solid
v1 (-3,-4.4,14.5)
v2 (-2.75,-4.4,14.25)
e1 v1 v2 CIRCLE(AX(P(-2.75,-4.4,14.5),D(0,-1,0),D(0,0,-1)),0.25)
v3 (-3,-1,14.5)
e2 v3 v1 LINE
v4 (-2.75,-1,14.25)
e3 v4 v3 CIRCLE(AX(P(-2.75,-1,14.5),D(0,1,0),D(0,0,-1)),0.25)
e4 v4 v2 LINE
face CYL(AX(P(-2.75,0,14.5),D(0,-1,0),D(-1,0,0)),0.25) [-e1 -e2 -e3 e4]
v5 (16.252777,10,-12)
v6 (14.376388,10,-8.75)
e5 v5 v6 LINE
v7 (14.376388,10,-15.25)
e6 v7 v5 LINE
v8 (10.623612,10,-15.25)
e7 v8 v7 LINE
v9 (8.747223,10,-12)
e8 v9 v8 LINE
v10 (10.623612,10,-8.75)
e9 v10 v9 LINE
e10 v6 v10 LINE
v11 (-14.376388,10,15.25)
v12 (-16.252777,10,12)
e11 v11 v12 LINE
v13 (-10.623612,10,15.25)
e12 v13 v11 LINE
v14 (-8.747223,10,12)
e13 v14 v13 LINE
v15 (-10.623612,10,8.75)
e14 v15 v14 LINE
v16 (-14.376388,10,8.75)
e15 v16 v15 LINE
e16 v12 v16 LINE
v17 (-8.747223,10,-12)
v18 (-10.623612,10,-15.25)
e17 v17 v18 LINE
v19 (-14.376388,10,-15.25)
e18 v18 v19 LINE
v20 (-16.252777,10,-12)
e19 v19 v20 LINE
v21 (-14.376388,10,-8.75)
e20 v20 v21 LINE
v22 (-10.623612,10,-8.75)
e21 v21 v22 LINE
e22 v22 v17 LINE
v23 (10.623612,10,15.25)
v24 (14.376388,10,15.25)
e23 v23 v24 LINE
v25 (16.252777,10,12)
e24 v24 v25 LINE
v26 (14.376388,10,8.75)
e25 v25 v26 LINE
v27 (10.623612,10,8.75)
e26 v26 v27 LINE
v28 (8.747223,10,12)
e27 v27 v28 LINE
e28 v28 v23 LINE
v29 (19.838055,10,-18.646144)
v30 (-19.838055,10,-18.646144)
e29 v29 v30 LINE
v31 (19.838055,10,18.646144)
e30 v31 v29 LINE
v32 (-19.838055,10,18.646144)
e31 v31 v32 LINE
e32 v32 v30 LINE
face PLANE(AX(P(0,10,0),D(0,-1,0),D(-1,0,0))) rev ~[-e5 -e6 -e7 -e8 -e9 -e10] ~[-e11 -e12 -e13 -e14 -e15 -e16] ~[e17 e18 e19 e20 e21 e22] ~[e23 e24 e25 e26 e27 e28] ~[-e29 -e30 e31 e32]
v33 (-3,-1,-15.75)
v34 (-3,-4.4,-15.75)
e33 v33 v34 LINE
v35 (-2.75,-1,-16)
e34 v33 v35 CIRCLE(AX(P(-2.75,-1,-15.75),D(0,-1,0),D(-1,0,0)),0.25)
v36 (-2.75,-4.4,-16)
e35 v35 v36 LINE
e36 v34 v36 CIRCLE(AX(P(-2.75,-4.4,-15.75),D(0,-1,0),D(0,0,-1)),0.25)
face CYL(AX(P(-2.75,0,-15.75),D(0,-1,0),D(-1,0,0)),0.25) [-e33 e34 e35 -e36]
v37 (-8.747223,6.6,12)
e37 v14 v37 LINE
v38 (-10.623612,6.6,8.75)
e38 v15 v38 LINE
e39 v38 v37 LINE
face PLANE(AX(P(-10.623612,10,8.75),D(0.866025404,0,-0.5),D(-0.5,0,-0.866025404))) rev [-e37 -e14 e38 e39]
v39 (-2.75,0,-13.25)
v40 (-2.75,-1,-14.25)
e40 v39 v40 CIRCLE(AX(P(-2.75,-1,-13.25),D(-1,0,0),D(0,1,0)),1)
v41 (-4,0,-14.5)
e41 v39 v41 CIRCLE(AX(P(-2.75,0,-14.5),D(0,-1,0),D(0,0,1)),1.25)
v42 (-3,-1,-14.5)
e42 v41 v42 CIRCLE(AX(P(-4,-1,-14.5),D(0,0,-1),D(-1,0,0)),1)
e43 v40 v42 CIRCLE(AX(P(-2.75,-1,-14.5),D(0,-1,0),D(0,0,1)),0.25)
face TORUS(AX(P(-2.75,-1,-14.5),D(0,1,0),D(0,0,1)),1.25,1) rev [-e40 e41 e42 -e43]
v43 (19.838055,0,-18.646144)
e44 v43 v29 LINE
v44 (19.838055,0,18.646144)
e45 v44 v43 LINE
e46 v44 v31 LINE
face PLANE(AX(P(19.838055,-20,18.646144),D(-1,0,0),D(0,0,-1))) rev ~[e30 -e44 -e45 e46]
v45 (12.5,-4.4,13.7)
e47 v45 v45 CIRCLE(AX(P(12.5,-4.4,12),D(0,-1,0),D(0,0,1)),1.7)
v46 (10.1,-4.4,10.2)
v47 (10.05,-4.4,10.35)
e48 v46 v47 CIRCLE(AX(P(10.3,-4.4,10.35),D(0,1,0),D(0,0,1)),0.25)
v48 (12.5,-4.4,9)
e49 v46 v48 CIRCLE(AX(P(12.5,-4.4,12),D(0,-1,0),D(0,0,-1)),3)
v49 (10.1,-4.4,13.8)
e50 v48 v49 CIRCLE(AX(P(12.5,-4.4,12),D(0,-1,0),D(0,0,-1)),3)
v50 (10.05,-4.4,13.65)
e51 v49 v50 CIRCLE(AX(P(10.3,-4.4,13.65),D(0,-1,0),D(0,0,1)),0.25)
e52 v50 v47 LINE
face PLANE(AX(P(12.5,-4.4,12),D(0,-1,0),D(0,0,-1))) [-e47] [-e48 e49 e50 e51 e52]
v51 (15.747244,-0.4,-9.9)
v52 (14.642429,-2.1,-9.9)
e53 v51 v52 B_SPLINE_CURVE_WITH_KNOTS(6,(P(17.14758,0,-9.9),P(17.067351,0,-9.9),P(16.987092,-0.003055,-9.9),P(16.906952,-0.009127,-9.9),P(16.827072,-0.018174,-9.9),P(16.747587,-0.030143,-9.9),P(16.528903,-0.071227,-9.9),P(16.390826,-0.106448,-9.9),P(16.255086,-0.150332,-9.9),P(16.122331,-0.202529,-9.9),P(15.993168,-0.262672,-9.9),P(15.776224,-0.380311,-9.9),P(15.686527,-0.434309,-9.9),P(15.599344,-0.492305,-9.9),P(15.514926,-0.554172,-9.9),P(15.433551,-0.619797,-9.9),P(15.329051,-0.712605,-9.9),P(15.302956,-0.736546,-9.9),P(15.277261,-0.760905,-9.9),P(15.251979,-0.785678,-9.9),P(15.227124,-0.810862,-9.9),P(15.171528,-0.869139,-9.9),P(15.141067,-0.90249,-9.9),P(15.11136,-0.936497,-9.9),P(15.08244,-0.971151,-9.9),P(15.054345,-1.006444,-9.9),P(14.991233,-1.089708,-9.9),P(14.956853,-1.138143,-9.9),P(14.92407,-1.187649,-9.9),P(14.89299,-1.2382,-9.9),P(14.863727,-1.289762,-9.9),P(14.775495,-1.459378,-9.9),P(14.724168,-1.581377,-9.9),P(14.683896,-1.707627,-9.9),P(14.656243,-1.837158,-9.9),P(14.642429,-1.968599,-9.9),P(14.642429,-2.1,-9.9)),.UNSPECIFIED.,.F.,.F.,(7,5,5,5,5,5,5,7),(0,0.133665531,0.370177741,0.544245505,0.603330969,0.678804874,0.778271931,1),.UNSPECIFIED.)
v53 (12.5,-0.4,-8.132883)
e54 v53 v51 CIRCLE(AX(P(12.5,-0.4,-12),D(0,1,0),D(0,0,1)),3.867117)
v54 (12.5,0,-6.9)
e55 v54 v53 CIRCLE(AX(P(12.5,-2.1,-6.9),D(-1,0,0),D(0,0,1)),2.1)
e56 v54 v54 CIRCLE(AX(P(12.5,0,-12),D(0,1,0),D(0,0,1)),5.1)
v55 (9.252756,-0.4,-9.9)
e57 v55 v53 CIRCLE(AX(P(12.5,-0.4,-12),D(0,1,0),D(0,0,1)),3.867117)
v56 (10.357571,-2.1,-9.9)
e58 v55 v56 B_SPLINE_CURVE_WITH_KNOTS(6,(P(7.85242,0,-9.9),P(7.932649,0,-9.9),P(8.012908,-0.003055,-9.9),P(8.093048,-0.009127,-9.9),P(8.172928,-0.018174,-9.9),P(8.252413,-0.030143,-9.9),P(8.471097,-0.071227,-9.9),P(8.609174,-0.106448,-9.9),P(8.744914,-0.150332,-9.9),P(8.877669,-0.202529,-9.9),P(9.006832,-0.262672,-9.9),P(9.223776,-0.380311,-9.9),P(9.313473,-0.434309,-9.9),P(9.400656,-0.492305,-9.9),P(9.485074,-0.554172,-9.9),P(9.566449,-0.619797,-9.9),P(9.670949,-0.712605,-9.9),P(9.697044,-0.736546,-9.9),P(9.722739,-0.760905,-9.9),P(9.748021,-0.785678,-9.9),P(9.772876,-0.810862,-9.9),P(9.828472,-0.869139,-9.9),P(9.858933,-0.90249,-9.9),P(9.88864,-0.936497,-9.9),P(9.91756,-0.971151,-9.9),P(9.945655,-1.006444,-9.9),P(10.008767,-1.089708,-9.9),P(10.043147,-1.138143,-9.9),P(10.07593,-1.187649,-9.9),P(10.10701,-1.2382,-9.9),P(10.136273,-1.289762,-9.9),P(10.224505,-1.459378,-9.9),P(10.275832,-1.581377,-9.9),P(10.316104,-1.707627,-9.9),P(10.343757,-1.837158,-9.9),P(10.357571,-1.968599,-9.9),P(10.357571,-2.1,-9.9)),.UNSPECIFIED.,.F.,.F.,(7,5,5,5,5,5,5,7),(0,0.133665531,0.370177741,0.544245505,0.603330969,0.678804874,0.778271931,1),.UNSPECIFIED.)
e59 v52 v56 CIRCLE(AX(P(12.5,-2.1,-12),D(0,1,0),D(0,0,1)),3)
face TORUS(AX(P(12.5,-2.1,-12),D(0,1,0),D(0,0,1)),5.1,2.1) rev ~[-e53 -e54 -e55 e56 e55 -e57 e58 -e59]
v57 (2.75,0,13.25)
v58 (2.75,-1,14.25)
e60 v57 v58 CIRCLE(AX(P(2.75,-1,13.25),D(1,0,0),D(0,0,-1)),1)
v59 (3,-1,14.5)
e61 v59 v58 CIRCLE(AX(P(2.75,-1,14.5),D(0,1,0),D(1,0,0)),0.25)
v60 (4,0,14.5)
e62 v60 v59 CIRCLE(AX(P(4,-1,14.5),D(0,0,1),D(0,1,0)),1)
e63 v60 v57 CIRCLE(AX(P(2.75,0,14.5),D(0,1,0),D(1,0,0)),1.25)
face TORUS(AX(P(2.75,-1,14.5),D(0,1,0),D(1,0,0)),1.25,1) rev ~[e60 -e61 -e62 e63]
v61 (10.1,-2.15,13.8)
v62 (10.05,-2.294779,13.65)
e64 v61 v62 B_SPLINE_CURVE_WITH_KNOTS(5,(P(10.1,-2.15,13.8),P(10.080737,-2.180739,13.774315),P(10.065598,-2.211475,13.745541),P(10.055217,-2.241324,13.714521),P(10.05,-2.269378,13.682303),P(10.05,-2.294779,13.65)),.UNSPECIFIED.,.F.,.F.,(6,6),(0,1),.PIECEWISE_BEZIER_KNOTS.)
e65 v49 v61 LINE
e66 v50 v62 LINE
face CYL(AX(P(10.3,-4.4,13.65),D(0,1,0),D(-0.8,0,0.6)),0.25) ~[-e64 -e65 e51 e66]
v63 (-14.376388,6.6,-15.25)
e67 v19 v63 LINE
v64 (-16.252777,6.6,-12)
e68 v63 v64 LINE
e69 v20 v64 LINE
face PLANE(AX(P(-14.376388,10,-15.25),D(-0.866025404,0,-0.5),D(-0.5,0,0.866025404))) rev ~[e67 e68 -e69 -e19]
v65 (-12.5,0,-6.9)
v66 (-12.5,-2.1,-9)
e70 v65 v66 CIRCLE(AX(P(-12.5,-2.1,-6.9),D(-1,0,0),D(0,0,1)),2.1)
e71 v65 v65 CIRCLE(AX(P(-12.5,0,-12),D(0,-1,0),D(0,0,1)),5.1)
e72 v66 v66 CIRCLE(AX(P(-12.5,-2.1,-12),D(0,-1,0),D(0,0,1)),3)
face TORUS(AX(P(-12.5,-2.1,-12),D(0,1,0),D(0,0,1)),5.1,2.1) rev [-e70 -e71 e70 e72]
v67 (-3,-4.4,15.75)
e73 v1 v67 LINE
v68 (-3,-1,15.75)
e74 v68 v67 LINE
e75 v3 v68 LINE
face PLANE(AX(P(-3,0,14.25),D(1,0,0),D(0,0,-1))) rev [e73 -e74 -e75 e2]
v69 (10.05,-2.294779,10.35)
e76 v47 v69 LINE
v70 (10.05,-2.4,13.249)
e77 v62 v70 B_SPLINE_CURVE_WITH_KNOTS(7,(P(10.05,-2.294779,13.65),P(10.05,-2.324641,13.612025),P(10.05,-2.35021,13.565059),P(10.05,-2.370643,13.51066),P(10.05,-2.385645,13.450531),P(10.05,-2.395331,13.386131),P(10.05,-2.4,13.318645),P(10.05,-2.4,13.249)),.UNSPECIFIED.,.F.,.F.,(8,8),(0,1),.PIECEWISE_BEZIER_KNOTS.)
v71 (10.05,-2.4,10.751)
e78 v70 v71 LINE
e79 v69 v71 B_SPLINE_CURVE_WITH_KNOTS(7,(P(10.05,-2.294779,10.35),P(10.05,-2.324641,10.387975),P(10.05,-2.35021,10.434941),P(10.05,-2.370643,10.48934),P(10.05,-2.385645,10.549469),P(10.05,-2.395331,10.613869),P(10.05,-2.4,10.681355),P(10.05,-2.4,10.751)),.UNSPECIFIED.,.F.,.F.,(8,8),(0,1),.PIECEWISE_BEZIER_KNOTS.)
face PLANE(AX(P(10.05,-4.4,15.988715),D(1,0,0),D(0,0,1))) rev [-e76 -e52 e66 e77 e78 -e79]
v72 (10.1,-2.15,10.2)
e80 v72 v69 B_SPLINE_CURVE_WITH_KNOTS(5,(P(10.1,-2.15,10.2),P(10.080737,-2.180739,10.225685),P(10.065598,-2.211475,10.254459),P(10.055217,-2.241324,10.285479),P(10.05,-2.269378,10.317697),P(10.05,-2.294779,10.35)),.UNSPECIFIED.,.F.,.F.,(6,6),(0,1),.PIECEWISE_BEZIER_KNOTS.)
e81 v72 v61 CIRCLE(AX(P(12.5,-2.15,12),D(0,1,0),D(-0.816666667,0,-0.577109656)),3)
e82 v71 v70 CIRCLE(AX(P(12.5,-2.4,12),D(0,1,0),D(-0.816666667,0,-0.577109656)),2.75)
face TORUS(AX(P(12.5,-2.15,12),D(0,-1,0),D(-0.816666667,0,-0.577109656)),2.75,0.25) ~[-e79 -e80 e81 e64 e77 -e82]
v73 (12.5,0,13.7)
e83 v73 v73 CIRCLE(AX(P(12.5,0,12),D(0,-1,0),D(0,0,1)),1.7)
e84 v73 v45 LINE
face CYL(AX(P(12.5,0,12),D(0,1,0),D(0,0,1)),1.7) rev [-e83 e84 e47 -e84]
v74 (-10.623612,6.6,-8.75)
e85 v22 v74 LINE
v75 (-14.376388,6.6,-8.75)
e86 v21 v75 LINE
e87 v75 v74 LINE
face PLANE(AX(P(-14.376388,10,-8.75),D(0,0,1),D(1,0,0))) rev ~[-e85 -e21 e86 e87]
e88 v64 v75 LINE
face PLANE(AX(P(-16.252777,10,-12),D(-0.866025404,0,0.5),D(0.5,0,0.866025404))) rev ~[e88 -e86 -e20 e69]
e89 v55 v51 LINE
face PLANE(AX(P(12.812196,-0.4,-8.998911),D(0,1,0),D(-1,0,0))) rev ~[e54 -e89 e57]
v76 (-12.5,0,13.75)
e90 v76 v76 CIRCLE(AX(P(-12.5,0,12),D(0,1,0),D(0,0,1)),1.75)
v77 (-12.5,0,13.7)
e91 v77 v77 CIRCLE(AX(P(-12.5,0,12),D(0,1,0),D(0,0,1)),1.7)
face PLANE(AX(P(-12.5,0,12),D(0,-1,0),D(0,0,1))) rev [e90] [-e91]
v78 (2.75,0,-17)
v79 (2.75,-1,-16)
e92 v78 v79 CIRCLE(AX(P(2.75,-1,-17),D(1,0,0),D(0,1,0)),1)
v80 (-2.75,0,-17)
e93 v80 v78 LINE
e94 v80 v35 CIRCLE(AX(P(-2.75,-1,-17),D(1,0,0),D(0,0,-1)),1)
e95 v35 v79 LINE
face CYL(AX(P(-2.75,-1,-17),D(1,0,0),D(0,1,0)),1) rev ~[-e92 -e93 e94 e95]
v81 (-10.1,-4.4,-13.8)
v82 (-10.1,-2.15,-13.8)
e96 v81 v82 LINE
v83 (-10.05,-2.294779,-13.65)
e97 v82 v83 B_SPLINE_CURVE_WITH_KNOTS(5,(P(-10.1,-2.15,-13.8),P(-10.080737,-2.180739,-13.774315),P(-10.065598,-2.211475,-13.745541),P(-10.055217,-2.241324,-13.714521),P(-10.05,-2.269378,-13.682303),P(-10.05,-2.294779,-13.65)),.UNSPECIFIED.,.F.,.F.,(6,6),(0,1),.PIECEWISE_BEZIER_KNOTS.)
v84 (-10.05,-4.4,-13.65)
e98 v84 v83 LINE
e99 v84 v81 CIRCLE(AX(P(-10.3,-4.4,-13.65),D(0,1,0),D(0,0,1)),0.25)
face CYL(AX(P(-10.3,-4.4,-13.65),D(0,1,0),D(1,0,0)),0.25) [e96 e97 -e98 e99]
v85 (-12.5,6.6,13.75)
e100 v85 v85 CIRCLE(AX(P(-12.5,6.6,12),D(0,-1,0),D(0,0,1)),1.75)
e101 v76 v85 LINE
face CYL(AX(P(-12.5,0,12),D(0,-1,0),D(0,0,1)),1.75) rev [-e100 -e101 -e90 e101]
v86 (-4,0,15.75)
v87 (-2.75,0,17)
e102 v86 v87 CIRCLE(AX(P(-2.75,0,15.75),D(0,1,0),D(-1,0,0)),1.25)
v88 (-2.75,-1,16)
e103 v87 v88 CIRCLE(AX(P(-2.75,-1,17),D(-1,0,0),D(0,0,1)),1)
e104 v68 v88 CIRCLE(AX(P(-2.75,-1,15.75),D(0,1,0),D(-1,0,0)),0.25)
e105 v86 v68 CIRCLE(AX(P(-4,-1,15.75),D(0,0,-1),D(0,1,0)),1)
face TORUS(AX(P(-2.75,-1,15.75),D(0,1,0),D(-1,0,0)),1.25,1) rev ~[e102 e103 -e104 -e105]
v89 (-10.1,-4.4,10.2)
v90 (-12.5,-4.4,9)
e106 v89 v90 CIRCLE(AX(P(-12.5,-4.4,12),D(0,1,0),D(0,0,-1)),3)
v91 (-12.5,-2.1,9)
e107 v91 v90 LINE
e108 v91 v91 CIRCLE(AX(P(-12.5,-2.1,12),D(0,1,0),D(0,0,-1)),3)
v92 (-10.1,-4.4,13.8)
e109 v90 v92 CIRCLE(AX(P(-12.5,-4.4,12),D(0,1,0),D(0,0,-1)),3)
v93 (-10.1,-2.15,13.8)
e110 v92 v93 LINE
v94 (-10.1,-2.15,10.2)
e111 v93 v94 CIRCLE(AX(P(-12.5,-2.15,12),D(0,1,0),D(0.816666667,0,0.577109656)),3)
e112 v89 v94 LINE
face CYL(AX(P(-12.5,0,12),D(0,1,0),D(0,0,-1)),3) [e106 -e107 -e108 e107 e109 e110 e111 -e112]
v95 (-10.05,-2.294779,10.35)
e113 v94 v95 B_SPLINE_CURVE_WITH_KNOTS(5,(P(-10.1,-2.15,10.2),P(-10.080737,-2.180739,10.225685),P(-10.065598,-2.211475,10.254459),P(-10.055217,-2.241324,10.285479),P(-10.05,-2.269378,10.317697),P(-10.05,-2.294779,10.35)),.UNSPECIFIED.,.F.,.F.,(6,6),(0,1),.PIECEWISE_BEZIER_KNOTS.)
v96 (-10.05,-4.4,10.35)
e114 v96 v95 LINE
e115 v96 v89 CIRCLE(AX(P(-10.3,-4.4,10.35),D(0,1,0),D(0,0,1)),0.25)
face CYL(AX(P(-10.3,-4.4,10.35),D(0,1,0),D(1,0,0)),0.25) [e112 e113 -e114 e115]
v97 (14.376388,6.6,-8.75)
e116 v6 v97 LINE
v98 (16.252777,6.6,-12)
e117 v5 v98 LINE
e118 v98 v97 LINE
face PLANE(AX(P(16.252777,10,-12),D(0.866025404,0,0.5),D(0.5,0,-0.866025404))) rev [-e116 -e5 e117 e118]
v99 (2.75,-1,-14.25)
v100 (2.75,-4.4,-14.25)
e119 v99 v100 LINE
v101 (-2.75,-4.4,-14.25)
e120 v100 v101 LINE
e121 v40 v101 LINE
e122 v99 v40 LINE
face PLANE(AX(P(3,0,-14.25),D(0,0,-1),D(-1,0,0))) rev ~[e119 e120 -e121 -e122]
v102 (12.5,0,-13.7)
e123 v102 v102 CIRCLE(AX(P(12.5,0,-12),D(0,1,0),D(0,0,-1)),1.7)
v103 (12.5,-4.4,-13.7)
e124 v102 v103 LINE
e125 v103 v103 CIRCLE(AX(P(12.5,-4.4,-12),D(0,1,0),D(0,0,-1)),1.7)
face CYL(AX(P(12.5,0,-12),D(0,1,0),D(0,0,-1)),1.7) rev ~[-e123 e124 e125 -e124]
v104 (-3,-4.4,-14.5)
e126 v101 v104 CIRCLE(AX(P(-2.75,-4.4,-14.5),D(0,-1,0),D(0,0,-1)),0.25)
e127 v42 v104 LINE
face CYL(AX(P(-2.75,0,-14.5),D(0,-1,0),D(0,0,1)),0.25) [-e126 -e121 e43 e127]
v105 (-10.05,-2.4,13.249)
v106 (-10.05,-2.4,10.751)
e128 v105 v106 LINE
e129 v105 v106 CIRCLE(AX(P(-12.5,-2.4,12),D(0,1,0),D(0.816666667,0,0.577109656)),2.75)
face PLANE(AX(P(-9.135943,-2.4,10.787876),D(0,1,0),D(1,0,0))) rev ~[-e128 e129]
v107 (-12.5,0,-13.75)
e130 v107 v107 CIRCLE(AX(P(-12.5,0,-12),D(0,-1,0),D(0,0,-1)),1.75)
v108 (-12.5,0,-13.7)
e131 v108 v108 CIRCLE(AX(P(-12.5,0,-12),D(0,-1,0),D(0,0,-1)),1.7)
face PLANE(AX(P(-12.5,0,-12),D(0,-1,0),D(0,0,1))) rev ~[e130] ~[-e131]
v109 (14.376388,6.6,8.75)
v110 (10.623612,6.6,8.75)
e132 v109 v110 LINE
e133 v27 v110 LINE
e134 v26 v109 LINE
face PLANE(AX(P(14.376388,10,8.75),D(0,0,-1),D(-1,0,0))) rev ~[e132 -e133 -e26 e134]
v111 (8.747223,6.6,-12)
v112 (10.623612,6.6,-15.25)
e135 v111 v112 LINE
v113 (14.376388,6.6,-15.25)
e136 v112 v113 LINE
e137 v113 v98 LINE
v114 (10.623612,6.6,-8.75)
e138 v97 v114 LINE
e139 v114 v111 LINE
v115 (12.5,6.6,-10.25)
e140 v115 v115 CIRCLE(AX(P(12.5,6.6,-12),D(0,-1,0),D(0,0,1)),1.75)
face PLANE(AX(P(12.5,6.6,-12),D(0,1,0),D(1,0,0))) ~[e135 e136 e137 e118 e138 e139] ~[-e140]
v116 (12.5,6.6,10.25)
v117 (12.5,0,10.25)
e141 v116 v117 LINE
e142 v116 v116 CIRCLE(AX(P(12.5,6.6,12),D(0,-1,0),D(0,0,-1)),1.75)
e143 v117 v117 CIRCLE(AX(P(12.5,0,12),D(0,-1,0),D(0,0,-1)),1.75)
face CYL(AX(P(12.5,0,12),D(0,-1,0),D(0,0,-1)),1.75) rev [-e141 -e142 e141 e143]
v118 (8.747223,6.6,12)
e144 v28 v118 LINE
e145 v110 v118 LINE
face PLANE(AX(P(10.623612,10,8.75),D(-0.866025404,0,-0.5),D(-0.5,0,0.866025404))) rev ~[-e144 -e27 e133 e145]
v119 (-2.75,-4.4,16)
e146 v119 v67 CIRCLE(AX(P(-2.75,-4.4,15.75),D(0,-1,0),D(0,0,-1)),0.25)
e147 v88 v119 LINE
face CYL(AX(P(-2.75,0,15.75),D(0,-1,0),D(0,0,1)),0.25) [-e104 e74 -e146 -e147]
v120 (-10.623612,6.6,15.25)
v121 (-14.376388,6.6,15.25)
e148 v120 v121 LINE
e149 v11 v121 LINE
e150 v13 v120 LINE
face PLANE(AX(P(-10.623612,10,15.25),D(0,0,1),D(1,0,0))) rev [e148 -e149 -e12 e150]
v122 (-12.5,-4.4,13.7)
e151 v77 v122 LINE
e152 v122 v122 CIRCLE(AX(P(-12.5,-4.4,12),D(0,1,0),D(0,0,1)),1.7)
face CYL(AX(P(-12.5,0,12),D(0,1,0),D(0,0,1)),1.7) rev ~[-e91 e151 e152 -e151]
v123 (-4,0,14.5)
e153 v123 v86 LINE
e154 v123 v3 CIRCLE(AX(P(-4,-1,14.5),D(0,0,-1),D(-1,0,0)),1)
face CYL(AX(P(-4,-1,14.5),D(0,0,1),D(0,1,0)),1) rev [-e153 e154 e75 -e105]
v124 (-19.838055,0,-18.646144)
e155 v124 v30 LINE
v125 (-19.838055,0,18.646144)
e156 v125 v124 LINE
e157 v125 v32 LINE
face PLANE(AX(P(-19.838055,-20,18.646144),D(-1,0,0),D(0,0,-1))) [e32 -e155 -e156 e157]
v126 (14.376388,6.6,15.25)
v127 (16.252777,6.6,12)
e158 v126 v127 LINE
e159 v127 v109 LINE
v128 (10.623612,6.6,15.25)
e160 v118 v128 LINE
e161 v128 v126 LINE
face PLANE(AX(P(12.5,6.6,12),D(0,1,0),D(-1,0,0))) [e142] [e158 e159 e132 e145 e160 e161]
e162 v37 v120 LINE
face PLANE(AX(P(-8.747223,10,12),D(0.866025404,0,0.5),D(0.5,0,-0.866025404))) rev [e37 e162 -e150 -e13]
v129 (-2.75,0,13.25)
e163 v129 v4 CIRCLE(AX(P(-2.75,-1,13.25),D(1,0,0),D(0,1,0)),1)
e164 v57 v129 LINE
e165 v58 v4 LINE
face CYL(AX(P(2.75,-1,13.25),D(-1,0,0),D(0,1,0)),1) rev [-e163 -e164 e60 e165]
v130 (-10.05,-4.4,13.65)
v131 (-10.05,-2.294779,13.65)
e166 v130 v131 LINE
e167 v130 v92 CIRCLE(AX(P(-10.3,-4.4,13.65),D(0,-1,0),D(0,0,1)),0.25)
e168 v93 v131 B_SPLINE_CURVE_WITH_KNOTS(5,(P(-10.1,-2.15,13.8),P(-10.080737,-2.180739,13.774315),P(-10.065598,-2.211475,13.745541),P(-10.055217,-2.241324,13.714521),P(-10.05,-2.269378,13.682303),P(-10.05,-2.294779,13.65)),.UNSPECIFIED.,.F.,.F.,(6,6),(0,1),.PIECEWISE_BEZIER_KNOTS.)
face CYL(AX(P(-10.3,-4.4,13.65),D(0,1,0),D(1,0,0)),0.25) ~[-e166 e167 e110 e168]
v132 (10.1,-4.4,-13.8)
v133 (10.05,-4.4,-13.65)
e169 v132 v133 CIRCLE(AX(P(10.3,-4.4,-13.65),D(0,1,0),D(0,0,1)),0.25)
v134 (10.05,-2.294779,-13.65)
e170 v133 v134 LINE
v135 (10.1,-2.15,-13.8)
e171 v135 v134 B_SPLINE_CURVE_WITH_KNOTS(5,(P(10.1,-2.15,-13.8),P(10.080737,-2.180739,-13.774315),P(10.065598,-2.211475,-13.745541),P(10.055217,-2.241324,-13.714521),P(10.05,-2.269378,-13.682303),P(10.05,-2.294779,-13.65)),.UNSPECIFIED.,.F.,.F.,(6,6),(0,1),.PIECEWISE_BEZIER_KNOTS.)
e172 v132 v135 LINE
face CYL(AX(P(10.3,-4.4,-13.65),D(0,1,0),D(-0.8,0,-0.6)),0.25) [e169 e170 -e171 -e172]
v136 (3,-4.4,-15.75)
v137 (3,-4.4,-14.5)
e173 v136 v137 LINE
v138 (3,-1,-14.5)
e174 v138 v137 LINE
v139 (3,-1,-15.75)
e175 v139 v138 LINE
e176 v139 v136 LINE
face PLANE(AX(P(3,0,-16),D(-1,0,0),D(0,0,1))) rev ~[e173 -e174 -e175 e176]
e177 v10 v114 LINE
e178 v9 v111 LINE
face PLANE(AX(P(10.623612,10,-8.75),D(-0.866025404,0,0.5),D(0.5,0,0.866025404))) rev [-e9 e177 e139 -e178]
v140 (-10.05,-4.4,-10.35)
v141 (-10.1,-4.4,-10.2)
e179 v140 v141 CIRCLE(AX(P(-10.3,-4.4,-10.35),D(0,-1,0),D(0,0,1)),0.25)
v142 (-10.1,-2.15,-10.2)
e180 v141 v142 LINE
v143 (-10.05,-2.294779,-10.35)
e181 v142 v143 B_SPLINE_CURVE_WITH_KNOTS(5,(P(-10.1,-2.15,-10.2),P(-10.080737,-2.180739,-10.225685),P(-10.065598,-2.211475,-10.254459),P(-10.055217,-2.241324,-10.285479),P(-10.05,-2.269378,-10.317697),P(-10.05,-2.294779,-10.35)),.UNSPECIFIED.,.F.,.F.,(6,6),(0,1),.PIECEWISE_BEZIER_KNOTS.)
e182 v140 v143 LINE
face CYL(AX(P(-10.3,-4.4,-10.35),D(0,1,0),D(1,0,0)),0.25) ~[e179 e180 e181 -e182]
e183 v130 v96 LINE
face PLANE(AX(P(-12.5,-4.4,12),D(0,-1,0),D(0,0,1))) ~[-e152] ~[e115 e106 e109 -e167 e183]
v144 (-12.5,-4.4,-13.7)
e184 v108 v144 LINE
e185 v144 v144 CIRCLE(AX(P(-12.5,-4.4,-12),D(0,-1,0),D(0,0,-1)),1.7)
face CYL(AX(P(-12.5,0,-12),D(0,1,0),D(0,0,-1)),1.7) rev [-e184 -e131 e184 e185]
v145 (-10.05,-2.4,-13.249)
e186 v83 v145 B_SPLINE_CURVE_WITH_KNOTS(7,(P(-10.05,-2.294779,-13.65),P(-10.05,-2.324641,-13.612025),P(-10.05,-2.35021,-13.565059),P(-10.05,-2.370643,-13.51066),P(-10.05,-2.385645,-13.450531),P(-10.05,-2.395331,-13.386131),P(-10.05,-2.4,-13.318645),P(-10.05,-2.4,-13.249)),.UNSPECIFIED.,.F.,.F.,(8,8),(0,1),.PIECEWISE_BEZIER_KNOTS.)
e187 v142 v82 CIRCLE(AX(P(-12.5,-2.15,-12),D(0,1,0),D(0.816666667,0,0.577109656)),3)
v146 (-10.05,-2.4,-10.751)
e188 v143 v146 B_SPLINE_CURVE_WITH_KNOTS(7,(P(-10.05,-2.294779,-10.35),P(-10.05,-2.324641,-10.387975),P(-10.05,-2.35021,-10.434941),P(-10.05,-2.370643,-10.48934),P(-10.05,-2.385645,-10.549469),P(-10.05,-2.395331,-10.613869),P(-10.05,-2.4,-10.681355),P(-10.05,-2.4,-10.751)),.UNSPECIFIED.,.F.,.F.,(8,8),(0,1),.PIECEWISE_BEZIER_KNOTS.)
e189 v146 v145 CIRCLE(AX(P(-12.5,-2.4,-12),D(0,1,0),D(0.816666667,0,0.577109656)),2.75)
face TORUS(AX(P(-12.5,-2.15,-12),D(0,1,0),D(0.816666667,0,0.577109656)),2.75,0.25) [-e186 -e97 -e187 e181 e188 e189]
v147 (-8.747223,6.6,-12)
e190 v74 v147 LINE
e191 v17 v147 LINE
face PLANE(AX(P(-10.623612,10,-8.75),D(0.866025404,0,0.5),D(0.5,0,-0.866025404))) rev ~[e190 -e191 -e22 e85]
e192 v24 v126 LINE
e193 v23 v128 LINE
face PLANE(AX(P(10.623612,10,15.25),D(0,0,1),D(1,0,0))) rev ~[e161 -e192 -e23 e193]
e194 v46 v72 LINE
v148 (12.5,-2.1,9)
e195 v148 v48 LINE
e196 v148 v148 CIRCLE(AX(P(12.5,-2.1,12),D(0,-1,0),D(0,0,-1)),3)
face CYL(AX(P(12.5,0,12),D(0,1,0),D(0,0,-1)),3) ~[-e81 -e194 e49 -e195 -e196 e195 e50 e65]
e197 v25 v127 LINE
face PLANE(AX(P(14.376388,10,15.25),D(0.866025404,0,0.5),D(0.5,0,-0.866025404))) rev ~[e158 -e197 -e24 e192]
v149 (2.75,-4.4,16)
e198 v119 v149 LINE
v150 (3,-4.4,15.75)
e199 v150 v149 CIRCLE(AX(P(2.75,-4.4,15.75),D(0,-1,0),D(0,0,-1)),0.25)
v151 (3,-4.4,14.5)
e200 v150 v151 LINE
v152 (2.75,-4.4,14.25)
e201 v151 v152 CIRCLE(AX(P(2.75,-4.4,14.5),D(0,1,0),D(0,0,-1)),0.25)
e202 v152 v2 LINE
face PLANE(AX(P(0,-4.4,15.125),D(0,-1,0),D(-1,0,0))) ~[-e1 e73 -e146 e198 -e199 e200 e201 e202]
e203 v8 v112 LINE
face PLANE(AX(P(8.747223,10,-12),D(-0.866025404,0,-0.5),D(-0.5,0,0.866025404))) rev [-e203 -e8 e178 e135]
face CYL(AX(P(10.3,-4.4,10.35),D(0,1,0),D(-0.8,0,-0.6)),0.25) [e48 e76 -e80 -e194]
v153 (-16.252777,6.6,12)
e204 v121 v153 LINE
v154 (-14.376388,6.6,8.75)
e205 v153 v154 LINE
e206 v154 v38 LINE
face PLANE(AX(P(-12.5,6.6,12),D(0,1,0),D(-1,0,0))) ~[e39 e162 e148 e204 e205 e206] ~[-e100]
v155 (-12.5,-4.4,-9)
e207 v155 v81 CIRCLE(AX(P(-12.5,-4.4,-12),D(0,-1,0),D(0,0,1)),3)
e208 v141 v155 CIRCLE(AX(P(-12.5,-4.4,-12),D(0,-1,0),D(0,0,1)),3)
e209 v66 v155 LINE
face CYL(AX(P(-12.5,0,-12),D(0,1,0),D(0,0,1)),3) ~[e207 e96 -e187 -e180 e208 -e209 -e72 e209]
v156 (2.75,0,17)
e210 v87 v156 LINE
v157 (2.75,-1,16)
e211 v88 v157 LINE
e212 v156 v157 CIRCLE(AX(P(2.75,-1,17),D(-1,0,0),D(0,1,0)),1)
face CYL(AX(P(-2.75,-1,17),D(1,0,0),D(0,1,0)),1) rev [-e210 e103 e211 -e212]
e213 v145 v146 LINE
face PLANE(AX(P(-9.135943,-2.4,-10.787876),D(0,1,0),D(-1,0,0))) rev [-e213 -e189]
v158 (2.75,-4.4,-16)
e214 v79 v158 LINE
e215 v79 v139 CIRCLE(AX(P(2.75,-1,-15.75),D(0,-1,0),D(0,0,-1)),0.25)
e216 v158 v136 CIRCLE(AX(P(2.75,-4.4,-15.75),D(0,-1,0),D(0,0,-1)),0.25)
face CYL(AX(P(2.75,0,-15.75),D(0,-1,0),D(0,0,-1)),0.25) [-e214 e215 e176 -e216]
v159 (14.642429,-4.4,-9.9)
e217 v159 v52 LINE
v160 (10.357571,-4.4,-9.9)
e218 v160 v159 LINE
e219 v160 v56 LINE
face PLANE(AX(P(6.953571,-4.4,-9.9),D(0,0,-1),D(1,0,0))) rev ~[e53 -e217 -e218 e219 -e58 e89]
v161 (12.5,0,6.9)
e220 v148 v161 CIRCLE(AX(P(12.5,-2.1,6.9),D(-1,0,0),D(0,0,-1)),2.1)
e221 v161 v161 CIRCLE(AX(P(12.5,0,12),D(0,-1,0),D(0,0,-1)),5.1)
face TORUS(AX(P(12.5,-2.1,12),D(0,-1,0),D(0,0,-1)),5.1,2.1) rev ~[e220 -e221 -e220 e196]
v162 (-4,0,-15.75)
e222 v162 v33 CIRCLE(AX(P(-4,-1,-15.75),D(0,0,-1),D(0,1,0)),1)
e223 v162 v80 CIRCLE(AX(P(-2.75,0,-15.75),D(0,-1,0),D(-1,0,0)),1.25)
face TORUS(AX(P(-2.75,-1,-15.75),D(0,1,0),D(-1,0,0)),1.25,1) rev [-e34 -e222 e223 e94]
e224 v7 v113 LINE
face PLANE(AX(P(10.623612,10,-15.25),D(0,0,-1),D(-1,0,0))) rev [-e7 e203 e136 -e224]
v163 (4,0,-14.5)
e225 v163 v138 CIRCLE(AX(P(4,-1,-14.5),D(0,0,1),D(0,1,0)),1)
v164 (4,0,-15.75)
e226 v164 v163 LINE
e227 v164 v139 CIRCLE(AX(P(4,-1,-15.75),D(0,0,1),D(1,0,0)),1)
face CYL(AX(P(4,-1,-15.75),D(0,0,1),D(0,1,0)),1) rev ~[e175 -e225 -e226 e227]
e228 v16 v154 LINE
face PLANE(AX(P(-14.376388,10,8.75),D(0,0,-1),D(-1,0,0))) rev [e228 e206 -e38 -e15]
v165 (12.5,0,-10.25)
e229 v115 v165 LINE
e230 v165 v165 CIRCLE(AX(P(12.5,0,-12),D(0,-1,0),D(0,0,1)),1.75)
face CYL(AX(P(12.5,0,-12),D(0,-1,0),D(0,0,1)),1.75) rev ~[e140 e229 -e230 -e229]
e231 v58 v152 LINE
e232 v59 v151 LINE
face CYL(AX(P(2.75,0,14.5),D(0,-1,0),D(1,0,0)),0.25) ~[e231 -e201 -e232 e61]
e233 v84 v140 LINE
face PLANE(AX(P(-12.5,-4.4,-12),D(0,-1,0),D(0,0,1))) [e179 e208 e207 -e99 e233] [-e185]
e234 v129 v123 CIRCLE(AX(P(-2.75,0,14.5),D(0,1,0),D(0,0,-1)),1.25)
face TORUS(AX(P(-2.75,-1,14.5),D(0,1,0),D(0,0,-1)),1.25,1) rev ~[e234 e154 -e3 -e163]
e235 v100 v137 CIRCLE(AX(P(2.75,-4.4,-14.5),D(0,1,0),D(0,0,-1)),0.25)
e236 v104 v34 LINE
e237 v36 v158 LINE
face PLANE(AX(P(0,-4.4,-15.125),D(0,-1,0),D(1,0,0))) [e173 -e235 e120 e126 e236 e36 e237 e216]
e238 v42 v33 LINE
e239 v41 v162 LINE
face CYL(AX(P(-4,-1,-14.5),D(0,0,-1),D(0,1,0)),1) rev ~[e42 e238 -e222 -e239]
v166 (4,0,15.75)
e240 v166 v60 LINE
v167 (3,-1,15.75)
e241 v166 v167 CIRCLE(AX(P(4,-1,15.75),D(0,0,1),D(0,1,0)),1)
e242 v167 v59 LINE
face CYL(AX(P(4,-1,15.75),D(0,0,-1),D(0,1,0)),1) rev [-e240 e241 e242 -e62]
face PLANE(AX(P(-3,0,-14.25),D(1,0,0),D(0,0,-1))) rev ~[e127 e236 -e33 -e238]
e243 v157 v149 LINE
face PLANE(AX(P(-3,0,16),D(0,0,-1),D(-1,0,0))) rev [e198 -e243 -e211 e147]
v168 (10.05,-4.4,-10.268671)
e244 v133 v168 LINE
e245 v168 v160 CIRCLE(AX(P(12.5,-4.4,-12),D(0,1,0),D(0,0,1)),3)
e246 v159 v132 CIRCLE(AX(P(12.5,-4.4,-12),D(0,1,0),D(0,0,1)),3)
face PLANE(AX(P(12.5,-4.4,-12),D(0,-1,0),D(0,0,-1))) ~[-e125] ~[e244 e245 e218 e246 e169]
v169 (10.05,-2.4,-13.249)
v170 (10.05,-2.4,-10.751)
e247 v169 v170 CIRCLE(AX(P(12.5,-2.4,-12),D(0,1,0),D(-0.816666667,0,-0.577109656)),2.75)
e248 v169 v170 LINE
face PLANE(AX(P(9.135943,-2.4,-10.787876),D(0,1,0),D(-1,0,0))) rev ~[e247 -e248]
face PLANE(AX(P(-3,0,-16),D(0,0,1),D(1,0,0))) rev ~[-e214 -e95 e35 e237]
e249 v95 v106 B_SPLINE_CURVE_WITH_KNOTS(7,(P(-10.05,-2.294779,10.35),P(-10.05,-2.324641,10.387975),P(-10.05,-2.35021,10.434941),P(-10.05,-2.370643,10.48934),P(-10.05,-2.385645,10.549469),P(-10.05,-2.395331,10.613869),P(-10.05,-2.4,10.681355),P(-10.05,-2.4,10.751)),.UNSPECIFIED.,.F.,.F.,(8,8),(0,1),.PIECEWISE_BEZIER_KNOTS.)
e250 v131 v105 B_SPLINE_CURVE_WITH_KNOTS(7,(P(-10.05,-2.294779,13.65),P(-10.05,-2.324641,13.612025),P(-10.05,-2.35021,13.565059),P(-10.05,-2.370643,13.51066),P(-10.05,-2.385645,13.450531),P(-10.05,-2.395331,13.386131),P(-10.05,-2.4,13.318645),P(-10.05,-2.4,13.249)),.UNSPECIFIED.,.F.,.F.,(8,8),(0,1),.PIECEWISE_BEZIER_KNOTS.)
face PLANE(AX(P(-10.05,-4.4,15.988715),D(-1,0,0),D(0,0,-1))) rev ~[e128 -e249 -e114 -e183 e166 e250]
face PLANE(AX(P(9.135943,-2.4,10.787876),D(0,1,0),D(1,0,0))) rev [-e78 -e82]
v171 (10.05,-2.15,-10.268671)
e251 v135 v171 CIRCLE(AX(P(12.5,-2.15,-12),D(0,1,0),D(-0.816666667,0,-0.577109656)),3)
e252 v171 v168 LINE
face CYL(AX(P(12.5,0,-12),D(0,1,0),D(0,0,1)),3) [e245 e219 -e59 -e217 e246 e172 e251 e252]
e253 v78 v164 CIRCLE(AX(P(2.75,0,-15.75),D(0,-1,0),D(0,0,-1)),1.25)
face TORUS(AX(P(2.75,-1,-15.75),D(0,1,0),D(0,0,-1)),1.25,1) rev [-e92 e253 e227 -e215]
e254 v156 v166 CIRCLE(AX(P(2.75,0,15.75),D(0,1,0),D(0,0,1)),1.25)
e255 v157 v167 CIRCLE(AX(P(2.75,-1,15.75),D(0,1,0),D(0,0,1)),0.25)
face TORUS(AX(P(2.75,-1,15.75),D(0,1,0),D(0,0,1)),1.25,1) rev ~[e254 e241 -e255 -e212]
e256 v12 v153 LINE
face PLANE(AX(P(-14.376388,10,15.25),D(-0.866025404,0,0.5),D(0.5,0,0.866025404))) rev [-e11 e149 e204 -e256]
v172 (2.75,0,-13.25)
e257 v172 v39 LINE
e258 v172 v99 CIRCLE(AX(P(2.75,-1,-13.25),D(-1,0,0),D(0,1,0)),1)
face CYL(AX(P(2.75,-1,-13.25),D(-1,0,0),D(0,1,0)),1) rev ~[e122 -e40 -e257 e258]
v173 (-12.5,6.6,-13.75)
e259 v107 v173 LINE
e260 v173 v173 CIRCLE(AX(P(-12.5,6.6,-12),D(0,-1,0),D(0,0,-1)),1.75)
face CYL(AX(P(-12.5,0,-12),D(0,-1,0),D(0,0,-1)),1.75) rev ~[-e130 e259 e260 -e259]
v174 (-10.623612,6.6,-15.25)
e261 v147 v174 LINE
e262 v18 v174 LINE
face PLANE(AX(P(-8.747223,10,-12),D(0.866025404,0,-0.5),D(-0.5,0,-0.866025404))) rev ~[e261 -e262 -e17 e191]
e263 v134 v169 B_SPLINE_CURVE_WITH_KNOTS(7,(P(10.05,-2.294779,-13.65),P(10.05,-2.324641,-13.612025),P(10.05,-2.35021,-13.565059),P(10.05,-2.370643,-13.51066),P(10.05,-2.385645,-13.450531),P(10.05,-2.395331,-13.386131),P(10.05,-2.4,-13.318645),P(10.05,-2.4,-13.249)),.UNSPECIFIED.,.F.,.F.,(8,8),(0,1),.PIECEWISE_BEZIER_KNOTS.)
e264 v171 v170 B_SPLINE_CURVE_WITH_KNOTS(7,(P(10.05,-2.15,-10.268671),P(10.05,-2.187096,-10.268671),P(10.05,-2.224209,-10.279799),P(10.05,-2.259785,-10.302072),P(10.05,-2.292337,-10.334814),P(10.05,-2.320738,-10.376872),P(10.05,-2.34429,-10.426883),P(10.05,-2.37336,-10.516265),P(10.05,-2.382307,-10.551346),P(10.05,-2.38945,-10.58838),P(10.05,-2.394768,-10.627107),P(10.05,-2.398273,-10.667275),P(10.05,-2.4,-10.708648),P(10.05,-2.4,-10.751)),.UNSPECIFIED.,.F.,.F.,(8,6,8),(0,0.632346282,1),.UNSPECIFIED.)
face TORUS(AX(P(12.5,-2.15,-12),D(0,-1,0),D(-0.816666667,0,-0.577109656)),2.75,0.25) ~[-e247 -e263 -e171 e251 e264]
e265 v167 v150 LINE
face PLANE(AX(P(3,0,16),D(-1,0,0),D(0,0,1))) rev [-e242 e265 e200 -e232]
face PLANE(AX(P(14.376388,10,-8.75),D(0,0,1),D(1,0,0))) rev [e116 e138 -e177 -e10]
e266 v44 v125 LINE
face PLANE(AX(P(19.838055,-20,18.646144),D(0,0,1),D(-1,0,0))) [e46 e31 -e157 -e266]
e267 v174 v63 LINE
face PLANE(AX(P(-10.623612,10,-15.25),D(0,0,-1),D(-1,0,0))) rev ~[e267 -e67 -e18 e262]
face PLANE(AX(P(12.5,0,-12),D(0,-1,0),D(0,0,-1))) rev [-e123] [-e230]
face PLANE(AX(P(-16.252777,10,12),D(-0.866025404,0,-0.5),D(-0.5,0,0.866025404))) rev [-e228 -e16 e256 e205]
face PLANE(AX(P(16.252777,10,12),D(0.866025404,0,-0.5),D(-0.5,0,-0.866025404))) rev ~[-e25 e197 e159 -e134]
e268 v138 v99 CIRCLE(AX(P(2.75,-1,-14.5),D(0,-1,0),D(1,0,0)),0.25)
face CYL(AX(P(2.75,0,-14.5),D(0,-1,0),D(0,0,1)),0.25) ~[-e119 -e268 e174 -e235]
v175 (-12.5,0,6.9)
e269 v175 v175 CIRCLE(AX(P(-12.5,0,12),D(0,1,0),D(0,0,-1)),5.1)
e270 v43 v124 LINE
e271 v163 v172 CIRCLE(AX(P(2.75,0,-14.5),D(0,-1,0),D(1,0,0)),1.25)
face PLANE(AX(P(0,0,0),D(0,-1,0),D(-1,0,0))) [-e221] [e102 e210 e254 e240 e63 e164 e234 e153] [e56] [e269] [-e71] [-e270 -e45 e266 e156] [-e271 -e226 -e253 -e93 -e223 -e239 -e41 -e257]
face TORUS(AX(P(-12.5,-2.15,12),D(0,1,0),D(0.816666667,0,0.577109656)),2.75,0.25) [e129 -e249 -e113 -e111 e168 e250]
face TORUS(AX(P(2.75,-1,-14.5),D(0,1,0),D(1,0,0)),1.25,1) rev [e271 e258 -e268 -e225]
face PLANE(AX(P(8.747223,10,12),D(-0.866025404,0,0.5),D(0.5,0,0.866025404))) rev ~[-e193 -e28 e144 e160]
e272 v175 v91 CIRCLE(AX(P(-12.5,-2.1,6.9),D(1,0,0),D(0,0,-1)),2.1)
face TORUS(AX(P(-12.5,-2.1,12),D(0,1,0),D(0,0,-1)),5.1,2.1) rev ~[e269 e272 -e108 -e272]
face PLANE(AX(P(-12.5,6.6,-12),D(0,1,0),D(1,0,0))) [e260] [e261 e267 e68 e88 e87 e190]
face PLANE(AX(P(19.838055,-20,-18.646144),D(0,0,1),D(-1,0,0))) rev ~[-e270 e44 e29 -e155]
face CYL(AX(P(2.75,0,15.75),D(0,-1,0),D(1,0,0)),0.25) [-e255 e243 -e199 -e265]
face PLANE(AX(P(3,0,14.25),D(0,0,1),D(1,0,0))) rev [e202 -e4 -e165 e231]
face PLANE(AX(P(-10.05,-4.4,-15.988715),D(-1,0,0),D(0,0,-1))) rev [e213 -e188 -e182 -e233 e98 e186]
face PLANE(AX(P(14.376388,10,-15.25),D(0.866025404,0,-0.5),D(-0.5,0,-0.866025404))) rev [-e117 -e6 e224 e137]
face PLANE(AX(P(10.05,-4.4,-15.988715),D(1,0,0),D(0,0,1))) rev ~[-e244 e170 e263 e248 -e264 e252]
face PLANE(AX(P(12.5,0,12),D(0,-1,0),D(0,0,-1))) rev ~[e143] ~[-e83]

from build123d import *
from OCP.BRepFilletAPI import BRepFilletAPI_MakeChamfer

# Parameters (mm, degrees)
BOSS_EXTRUDE3_DEPTH       = 10
M4_CLEARANCE_HOLE1_D      = 4.5
SKETCH21_R                = 1.118017303
BOSS_EXTRUDE6_DEPTH       = 1
CUT_EXTRUDE11_DEPTH       = 15
SKETCH22_R                = 1.118017303
CUT_EXTRUDE8_DEPTH        = 1
CHAMFER1_SIZE             = 1
CHAMFER1_SIZE2            = 1.035530314
CUT_EXTRUDE10_DEPTH       = 3
SKETCH25_R                = 1.75
CUT_EXTRUDE12_DEPTH       = 76.875514918
CUT_EXTRUDE13_DEPTH       = 3.4
MIRROR3_COPY_1_DEPTH      = 3.4
SKETCH27_R                = 3
SKETCH27_R_2              = 1.7
BOSS_EXTRUDE7_DEPTH       = 4.4
MIRROR5_COPY_1_SKETCH_R   = 3
MIRROR5_COPY_1_SKETCH_R_2 = 1.7
MIRROR5_COPY_1_DEPTH      = 4.4
FILLET3_R                 = 2.1
CUT_EXTRUDE14_DEPTH       = 2
MIRROR7_COPY_1_DEPTH      = 2
CUT_EXTRUDE15_DEPTH       = 4
FILLET6_R                 = 0.25
FILLET7_R                 = 0.25
BOSS_EXTRUDE8_DEPTH       = 4.4
FILLET8_R                 = 0.25
FILLET9_R                 = 1
FILLET10_R                = 0.25
FILLET11_R                = 1
SKETCH32_W                = 148.301652658
SKETCH32_H                = 130.819582074
SKETCH32_W_2              = 39.676110034
SKETCH32_H_2              = 37.292287862
CUT_EXTRUDE16_DEPTH       = 40


with BuildPart() as part:
    # Sketch6 → Boss-Extrude3 (new body)
    with BuildSketch(Plane(origin=(0, 0, 0), x_dir=(1, 0, 0), z_dir=(0, 1, 0))):
        with BuildLine():
            Line((-40, 33.094010768), (40, 33.094010768))
            ThreePointArc((40, 33.094010768), (48.660254038, 28.094010768), (48.660254038, 18.094010768))
            Line((48.660254038, 18.094010768), (28.660254038, -16.547005384))
            Line((28.660254038, -16.547005384), (8.660254038, -51.188021535))
            ThreePointArc((8.660254038, -51.188021535), (0, -56.188021535), (-8.660254038, -51.188021535))
            Line((-8.660254038, -51.188021535), (-28.660254038, -16.547005384))
            Line((-28.660254038, -16.547005384), (-48.660254038, 18.094010768))
            ThreePointArc((-48.660254038, 18.094010768), (-48.660254038, 28.094010768), (-40, 33.094010768))
        make_face()
    extrude(amount=BOSS_EXTRUDE3_DEPTH)

    # M4 Clearance Hole1 (through all)
    with Locations(Plane(origin=(0, 0, 0), x_dir=(-1, 0, 0), z_dir=(0, -1, 0))):
        with Locations((-40, 23.094010768), (40, 23.094010768), (0, -46.188021535)):
            Hole(M4_CLEARANCE_HOLE1_D / 2)

    # Sketch21 → Boss-Extrude6 (add)
    with BuildSketch(Plane(origin=(0, 0, 0), x_dir=(-1, 0, 0), z_dir=(0, -1, 0))):
        with Locations(Location((0, 0, 0), (0, 0, 270))):
            Circle(SKETCH21_R)
    extrude(amount=BOSS_EXTRUDE6_DEPTH)

    # Sketch24 → Cut-Extrude11 (cut, symmetric)
    with BuildSketch(Plane(origin=(0, 0, 0), x_dir=(0, 0, -1), z_dir=(1, 0, 0))):
        Polygon((27.094010768, 10), (33.094010768, 2.214464559), (33.094010768, 10), align=None)
    extrude(amount=CUT_EXTRUDE11_DEPTH, both=True, mode=Mode.SUBTRACT)

    # Sketch22 → Cut-Extrude8 (cut)
    with BuildSketch(Plane(origin=(0, -1, 0), x_dir=(-1, 0, 0), z_dir=(0, -1, 0))):
        Circle(SKETCH22_R)
    extrude(amount=-CUT_EXTRUDE8_DEPTH, mode=Mode.SUBTRACT)

    # Chamfer1: one chamfer whose edges measure the first distance from different faces: ONE call of the kernel's chamfer builder (chamfer() names one face for all edges)
    chamfer1_edges_1 = [part.edges().sort_by_distance(p)[0] for p in [
        (-48.660254038, 10, -28.094010768),
    ]]
    chamfer1_side_1 = [part.faces().sort_by_distance(p)[0] for p in [
        (-48.660254038, 5, -28.094010768),
    ]]
    chamfer1_edges_2 = [part.edges().sort_by_distance(p)[0] for p in [
        (-28.660254038, 10, 16.547005384),
    ]]
    chamfer1_side_2 = [part.faces().sort_by_distance(p)[0] for p in [
        (-28.660254038, 5, 16.547005384),
    ]]
    chamfer1_edges_3 = [part.edges().sort_by_distance(p)[0] for p in [
        (0, 10, 56.188021535),
    ]]
    chamfer1_side_3 = [part.faces().sort_by_distance(p)[0] for p in [
        (0, 5, 56.188021535),
    ]]
    chamfer1_edges_4 = [part.edges().sort_by_distance(p)[0] for p in [
        (28.660254038, 10, 16.547005384),
    ]]
    chamfer1_side_4 = [part.faces().sort_by_distance(p)[0] for p in [
        (28.660254038, 5, 16.547005384),
    ]]
    chamfer1_edges_5 = [part.edges().sort_by_distance(p)[0] for p in [
        (-27.5, 10, -33.094010768),
        (27.5, 10, -33.094010768),
    ]]
    chamfer1_side_5 = [part.faces().sort_by_distance(p)[0] for p in [
        (0, 0.806225775, -33.094010768),
    ]]
    chamfer1_edges_6 = [part.edges().sort_by_distance(p)[0] for p in [
        (48.660254038, 10, -28.094010768),
    ]]
    chamfer1_side_6 = [part.faces().sort_by_distance(p)[0] for p in [
        (48.660254038, 5, -28.094010768),
    ]]
    chamfer1 = BRepFilletAPI_MakeChamfer(part.part.solid().wrapped)
    for e in chamfer1_edges_1:
        chamfer1.Add(CHAMFER1_SIZE, CHAMFER1_SIZE2, e.wrapped, chamfer1_side_1[0].wrapped)  # the first distance lies on this face
    for e in chamfer1_edges_2:
        chamfer1.Add(CHAMFER1_SIZE, CHAMFER1_SIZE2, e.wrapped, chamfer1_side_2[0].wrapped)  # the first distance lies on this face
    for e in chamfer1_edges_3:
        chamfer1.Add(CHAMFER1_SIZE, CHAMFER1_SIZE2, e.wrapped, chamfer1_side_3[0].wrapped)  # the first distance lies on this face
    for e in chamfer1_edges_4:
        chamfer1.Add(CHAMFER1_SIZE, CHAMFER1_SIZE2, e.wrapped, chamfer1_side_4[0].wrapped)  # the first distance lies on this face
    for e in chamfer1_edges_5:
        chamfer1.Add(CHAMFER1_SIZE, CHAMFER1_SIZE2, e.wrapped, chamfer1_side_5[0].wrapped)  # the first distance lies on this face
    for e in chamfer1_edges_6:
        chamfer1.Add(CHAMFER1_SIZE, CHAMFER1_SIZE2, e.wrapped, chamfer1_side_6[0].wrapped)  # the first distance lies on this face
    add(Compound.cast(chamfer1.Shape()), mode=Mode.REPLACE)

    # Sketch23 → Cut-Extrude10 (cut)
    with BuildSketch(Plane(origin=(0, 10, 0), x_dir=(1, 0, 0), z_dir=(0, 1, 0))):
        Polygon((38.239081679, 26.144010768), (36.478163358, 23.094010768), (38.239081679, 20.044010768), (41.760918321, 20.044010768), (43.521836642, 23.094010768), (41.760918321, 26.144010768), align=None)
        Polygon((-38.239081679, 20.044010768), (-36.478163358, 23.094010768), (-38.239081679, 26.144010768), (-41.760918321, 26.144010768), (-43.521836642, 23.094010768), (-41.760918321, 20.044010768), align=None)
        Polygon((3.521836642, -46.188021535), (1.760918321, -43.138021535), (-1.760918321, -43.138021535), (-3.521836642, -46.188021535), (-1.760918321, -49.238021535), (1.760918321, -49.238021535), align=None)
    extrude(amount=-CUT_EXTRUDE10_DEPTH, mode=Mode.SUBTRACT)

    # Sketch25 → Cut-Extrude12 (cut, symmetric)
    with BuildSketch(Plane.XZ):
        with Locations(Location((-12.5, -12, 0), (0, 0, 270))):
            Circle(SKETCH25_R)
        with Locations(Location((12.5, -12, 0), (0, 0, 90))):
            Circle(SKETCH25_R)
    cut_extrude12 = extrude(amount=CUT_EXTRUDE12_DEPTH, both=True, mode=Mode.SUBTRACT)

    # Mirror1: Cut-Extrude12 across plane
    add(cut_extrude12.mirror(Plane.XY), mode=Mode.SUBTRACT)

    # Sketch26 → Cut-Extrude13 (cut)
    with BuildSketch(Plane(origin=(0, 10, 0), x_dir=(1, 0, 0), z_dir=(0, 1, 0))):
        Polygon((-16.25277675, 12), (-14.376388375, 8.75), (-10.623611625, 8.75), (-8.74722325, 12), (-10.623611625, 15.25), (-14.376388375, 15.25), align=None)
    cut_extrude13 = extrude(amount=-CUT_EXTRUDE13_DEPTH, mode=Mode.SUBTRACT)

    # Mirror2: Cut-Extrude13 across plane
    add(cut_extrude13.mirror(Plane(origin=(0, 0, 0), x_dir=(0, 0, 1), z_dir=(1, 0, 0))), mode=Mode.SUBTRACT)

    # Mirror3: Cut-Extrude13 across plane
    add(cut_extrude13.mirror(Plane.XY), mode=Mode.SUBTRACT)

    # Mirror3 copy 1 sketch → Mirror3 copy 1 (cut)
    with BuildSketch(Plane(origin=(0, 10, 0), x_dir=(-1, 0, 0), z_dir=(0, 1, 0))):
        Polygon((-16.25277675, 12), (-14.376388375, 8.75), (-10.623611625, 8.75), (-8.74722325, 12), (-10.623611625, 15.25), (-14.376388375, 15.25), align=None)
    extrude(amount=-MIRROR3_COPY_1_DEPTH, mode=Mode.SUBTRACT)

    # Sketch27 → Boss-Extrude7 (add)
    with BuildSketch(Plane.XZ):
        with Locations(Location((-12.5, -12, 0), (0, 0, 90))):
            Circle(SKETCH27_R)
        with Locations(Location((-12.5, -12, 0), (0, 0, 270))):
            Circle(SKETCH27_R_2, mode=Mode.SUBTRACT)
    boss_extrude7 = extrude(amount=BOSS_EXTRUDE7_DEPTH)

    # Mirror4: Boss-Extrude7 across plane
    add(boss_extrude7.mirror(Plane.XY))

    # Mirror5: Boss-Extrude7 across plane
    add(boss_extrude7.mirror(Plane(origin=(0, 0, 0), x_dir=(0, 0, 1), z_dir=(1, 0, 0))))

    # Mirror5 copy 1 sketch → Mirror5 copy 1 (add)
    with BuildSketch(Plane(origin=(0, 0, 0), x_dir=(-1, 0, 0), z_dir=(0, -1, 0))):
        with Locations(Location((-12.5, -12, 0), (0, 0, 90))):
            Circle(MIRROR5_COPY_1_SKETCH_R)
        with Locations(Location((-12.5, -12, 0), (0, 0, 270))):
            Circle(MIRROR5_COPY_1_SKETCH_R_2, mode=Mode.SUBTRACT)
    extrude(amount=MIRROR5_COPY_1_DEPTH)

    # Fillet3
    fillet3_edges = [part.edges().sort_by_distance(p)[0] for p in [
        (-12.5, 0, -15),
        (-12.5, 0, 15),
        (12.5, 0, -15),
        (12.5, 0, 15),
    ]]
    fillet(fillet3_edges, radius=FILLET3_R)

    # Sketch28 → Cut-Extrude14 (cut)
    with BuildSketch(Plane.XZ.offset(4.4)):
        Polygon((10.05, -12), (10.05, -15.988715384), (8.221886026, -15.988715384), (8.221886026, -5.587036016), (10.05, -5.587036016), align=None)
    cut_extrude14 = extrude(amount=-CUT_EXTRUDE14_DEPTH, mode=Mode.SUBTRACT)

    # Mirror6: Cut-Extrude14 across plane
    add(cut_extrude14.mirror(Plane(origin=(0, 0, 0), x_dir=(0, 0, 1), z_dir=(1, 0, 0))), mode=Mode.SUBTRACT)

    # Mirror7: Cut-Extrude14 across plane
    add(cut_extrude14.mirror(Plane.XY), mode=Mode.SUBTRACT)

    # Mirror7 copy 1 sketch → Mirror7 copy 1 (cut)
    with BuildSketch(Plane(origin=(0, -4.4, 0), x_dir=(-1, 0, 0), z_dir=(0, -1, 0))):
        Polygon((10.05, -12), (10.05, -15.988715384), (8.221886026, -15.988715384), (8.221886026, -5.587036016), (10.05, -5.587036016), align=None)
    extrude(amount=-MIRROR7_COPY_1_DEPTH, mode=Mode.SUBTRACT)

    # Sketch29 → Cut-Extrude15 (cut)
    with BuildSketch(Plane.XZ.offset(4.4)):
        Polygon((12.5, -9.9), (6.953571085, -9.9), (6.953571085, -8.097822779), (18.670819989, -8.097822779), (18.670819989, -9.9), align=None)
    extrude(amount=-CUT_EXTRUDE15_DEPTH, mode=Mode.SUBTRACT)

    # Fillet6
    fillet6_edges = [part.edges().sort_by_distance(p)[0] for p in [
        (9.5, -2.4, -12),
        (10.05, -3.4, -13.731328969),
    ]]
    fillet(fillet6_edges, radius=FILLET6_R)

    # Fillet7
    fillet7_edges = [part.edges().sort_by_distance(p)[0] for p in [
        (-9.5, -2.4, -12),
        (-10.05, -3.4, -10.268671031),
        (-10.05, -3.4, -13.731328969),
        (-9.5, -2.4, 12),
        (-10.05, -3.4, 13.731328969),
        (-10.05, -3.4, 10.268671031),
        (9.5, -2.4, 12),
        (10.05, -3.4, 10.268671031),
        (10.05, -3.4, 13.731328969),
    ]]
    fillet(fillet7_edges, radius=FILLET7_R)

    # Sketch30 → Boss-Extrude8 (add)
    with BuildSketch(Plane.XZ):
        Polygon((3, -15), (3, -14.25), (-3, -14.25), (-3, -15), (-3, -16), (3, -16), align=None)
    boss_extrude8 = extrude(amount=BOSS_EXTRUDE8_DEPTH)

    # Fillet8
    fillet8_edges = [part.edges().sort_by_distance(p)[0] for p in [
        (3, -2.2, -16),
        (3, -2.2, -14.25),
        (-3, -2.2, -14.25),
        (-3, -2.2, -16),
    ]]
    fillet(fillet8_edges, radius=FILLET8_R)

    # Mirror8: Boss-Extrude8 across plane
    add(boss_extrude8.mirror(Plane.XY))

    # Fillet9
    fillet9_edges = [part.edges().sort_by_distance(p)[0] for p in [
        (0, 0, -14.25),
        (3, 0, -15.125),
        (0, 0, -16),
        (-3, 0, -15.125),
        (2.926776695, 0, -14.323223305),
        (2.926776695, 0, -15.926776695),
        (-2.926776695, 0, -15.926776695),
        (-2.926776695, 0, -14.323223305),
    ]]
    fillet(fillet9_edges, radius=FILLET9_R)

    # Fillet10
    fillet10_edges = [part.edges().sort_by_distance(p)[0] for p in [
        (3, -2.2, 16),
        (-3, -2.2, 16),
        (-3, -2.2, 14.25),
        (3, -2.2, 14.25),
    ]]
    fillet(fillet10_edges, radius=FILLET10_R)

    # Fillet11
    fillet11_edges = [part.edges().sort_by_distance(p)[0] for p in [
        (3, 0, 15.125),
        (0, 0, 14.25),
        (0, 0, 16),
        (-3, 0, 15.125),
        (2.926776695, 0, 14.323223305),
        (2.926776695, 0, 15.926776695),
        (-2.926776695, 0, 15.926776695),
        (-2.926776695, 0, 14.323223305),
    ]]
    fillet(fillet11_edges, radius=FILLET11_R)

    # Sketch32 → Cut-Extrude16 (cut)
    with BuildSketch(Plane(origin=(0, -20, 0), x_dir=(-1, 0, 0), z_dir=(0, -1, 0))):
        Rectangle(SKETCH32_W, SKETCH32_H)
        Rectangle(SKETCH32_W_2, SKETCH32_H_2, mode=Mode.SUBTRACT)
    extrude(amount=-CUT_EXTRUDE16_DEPTH, mode=Mode.SUBTRACT)


solid = part.part
